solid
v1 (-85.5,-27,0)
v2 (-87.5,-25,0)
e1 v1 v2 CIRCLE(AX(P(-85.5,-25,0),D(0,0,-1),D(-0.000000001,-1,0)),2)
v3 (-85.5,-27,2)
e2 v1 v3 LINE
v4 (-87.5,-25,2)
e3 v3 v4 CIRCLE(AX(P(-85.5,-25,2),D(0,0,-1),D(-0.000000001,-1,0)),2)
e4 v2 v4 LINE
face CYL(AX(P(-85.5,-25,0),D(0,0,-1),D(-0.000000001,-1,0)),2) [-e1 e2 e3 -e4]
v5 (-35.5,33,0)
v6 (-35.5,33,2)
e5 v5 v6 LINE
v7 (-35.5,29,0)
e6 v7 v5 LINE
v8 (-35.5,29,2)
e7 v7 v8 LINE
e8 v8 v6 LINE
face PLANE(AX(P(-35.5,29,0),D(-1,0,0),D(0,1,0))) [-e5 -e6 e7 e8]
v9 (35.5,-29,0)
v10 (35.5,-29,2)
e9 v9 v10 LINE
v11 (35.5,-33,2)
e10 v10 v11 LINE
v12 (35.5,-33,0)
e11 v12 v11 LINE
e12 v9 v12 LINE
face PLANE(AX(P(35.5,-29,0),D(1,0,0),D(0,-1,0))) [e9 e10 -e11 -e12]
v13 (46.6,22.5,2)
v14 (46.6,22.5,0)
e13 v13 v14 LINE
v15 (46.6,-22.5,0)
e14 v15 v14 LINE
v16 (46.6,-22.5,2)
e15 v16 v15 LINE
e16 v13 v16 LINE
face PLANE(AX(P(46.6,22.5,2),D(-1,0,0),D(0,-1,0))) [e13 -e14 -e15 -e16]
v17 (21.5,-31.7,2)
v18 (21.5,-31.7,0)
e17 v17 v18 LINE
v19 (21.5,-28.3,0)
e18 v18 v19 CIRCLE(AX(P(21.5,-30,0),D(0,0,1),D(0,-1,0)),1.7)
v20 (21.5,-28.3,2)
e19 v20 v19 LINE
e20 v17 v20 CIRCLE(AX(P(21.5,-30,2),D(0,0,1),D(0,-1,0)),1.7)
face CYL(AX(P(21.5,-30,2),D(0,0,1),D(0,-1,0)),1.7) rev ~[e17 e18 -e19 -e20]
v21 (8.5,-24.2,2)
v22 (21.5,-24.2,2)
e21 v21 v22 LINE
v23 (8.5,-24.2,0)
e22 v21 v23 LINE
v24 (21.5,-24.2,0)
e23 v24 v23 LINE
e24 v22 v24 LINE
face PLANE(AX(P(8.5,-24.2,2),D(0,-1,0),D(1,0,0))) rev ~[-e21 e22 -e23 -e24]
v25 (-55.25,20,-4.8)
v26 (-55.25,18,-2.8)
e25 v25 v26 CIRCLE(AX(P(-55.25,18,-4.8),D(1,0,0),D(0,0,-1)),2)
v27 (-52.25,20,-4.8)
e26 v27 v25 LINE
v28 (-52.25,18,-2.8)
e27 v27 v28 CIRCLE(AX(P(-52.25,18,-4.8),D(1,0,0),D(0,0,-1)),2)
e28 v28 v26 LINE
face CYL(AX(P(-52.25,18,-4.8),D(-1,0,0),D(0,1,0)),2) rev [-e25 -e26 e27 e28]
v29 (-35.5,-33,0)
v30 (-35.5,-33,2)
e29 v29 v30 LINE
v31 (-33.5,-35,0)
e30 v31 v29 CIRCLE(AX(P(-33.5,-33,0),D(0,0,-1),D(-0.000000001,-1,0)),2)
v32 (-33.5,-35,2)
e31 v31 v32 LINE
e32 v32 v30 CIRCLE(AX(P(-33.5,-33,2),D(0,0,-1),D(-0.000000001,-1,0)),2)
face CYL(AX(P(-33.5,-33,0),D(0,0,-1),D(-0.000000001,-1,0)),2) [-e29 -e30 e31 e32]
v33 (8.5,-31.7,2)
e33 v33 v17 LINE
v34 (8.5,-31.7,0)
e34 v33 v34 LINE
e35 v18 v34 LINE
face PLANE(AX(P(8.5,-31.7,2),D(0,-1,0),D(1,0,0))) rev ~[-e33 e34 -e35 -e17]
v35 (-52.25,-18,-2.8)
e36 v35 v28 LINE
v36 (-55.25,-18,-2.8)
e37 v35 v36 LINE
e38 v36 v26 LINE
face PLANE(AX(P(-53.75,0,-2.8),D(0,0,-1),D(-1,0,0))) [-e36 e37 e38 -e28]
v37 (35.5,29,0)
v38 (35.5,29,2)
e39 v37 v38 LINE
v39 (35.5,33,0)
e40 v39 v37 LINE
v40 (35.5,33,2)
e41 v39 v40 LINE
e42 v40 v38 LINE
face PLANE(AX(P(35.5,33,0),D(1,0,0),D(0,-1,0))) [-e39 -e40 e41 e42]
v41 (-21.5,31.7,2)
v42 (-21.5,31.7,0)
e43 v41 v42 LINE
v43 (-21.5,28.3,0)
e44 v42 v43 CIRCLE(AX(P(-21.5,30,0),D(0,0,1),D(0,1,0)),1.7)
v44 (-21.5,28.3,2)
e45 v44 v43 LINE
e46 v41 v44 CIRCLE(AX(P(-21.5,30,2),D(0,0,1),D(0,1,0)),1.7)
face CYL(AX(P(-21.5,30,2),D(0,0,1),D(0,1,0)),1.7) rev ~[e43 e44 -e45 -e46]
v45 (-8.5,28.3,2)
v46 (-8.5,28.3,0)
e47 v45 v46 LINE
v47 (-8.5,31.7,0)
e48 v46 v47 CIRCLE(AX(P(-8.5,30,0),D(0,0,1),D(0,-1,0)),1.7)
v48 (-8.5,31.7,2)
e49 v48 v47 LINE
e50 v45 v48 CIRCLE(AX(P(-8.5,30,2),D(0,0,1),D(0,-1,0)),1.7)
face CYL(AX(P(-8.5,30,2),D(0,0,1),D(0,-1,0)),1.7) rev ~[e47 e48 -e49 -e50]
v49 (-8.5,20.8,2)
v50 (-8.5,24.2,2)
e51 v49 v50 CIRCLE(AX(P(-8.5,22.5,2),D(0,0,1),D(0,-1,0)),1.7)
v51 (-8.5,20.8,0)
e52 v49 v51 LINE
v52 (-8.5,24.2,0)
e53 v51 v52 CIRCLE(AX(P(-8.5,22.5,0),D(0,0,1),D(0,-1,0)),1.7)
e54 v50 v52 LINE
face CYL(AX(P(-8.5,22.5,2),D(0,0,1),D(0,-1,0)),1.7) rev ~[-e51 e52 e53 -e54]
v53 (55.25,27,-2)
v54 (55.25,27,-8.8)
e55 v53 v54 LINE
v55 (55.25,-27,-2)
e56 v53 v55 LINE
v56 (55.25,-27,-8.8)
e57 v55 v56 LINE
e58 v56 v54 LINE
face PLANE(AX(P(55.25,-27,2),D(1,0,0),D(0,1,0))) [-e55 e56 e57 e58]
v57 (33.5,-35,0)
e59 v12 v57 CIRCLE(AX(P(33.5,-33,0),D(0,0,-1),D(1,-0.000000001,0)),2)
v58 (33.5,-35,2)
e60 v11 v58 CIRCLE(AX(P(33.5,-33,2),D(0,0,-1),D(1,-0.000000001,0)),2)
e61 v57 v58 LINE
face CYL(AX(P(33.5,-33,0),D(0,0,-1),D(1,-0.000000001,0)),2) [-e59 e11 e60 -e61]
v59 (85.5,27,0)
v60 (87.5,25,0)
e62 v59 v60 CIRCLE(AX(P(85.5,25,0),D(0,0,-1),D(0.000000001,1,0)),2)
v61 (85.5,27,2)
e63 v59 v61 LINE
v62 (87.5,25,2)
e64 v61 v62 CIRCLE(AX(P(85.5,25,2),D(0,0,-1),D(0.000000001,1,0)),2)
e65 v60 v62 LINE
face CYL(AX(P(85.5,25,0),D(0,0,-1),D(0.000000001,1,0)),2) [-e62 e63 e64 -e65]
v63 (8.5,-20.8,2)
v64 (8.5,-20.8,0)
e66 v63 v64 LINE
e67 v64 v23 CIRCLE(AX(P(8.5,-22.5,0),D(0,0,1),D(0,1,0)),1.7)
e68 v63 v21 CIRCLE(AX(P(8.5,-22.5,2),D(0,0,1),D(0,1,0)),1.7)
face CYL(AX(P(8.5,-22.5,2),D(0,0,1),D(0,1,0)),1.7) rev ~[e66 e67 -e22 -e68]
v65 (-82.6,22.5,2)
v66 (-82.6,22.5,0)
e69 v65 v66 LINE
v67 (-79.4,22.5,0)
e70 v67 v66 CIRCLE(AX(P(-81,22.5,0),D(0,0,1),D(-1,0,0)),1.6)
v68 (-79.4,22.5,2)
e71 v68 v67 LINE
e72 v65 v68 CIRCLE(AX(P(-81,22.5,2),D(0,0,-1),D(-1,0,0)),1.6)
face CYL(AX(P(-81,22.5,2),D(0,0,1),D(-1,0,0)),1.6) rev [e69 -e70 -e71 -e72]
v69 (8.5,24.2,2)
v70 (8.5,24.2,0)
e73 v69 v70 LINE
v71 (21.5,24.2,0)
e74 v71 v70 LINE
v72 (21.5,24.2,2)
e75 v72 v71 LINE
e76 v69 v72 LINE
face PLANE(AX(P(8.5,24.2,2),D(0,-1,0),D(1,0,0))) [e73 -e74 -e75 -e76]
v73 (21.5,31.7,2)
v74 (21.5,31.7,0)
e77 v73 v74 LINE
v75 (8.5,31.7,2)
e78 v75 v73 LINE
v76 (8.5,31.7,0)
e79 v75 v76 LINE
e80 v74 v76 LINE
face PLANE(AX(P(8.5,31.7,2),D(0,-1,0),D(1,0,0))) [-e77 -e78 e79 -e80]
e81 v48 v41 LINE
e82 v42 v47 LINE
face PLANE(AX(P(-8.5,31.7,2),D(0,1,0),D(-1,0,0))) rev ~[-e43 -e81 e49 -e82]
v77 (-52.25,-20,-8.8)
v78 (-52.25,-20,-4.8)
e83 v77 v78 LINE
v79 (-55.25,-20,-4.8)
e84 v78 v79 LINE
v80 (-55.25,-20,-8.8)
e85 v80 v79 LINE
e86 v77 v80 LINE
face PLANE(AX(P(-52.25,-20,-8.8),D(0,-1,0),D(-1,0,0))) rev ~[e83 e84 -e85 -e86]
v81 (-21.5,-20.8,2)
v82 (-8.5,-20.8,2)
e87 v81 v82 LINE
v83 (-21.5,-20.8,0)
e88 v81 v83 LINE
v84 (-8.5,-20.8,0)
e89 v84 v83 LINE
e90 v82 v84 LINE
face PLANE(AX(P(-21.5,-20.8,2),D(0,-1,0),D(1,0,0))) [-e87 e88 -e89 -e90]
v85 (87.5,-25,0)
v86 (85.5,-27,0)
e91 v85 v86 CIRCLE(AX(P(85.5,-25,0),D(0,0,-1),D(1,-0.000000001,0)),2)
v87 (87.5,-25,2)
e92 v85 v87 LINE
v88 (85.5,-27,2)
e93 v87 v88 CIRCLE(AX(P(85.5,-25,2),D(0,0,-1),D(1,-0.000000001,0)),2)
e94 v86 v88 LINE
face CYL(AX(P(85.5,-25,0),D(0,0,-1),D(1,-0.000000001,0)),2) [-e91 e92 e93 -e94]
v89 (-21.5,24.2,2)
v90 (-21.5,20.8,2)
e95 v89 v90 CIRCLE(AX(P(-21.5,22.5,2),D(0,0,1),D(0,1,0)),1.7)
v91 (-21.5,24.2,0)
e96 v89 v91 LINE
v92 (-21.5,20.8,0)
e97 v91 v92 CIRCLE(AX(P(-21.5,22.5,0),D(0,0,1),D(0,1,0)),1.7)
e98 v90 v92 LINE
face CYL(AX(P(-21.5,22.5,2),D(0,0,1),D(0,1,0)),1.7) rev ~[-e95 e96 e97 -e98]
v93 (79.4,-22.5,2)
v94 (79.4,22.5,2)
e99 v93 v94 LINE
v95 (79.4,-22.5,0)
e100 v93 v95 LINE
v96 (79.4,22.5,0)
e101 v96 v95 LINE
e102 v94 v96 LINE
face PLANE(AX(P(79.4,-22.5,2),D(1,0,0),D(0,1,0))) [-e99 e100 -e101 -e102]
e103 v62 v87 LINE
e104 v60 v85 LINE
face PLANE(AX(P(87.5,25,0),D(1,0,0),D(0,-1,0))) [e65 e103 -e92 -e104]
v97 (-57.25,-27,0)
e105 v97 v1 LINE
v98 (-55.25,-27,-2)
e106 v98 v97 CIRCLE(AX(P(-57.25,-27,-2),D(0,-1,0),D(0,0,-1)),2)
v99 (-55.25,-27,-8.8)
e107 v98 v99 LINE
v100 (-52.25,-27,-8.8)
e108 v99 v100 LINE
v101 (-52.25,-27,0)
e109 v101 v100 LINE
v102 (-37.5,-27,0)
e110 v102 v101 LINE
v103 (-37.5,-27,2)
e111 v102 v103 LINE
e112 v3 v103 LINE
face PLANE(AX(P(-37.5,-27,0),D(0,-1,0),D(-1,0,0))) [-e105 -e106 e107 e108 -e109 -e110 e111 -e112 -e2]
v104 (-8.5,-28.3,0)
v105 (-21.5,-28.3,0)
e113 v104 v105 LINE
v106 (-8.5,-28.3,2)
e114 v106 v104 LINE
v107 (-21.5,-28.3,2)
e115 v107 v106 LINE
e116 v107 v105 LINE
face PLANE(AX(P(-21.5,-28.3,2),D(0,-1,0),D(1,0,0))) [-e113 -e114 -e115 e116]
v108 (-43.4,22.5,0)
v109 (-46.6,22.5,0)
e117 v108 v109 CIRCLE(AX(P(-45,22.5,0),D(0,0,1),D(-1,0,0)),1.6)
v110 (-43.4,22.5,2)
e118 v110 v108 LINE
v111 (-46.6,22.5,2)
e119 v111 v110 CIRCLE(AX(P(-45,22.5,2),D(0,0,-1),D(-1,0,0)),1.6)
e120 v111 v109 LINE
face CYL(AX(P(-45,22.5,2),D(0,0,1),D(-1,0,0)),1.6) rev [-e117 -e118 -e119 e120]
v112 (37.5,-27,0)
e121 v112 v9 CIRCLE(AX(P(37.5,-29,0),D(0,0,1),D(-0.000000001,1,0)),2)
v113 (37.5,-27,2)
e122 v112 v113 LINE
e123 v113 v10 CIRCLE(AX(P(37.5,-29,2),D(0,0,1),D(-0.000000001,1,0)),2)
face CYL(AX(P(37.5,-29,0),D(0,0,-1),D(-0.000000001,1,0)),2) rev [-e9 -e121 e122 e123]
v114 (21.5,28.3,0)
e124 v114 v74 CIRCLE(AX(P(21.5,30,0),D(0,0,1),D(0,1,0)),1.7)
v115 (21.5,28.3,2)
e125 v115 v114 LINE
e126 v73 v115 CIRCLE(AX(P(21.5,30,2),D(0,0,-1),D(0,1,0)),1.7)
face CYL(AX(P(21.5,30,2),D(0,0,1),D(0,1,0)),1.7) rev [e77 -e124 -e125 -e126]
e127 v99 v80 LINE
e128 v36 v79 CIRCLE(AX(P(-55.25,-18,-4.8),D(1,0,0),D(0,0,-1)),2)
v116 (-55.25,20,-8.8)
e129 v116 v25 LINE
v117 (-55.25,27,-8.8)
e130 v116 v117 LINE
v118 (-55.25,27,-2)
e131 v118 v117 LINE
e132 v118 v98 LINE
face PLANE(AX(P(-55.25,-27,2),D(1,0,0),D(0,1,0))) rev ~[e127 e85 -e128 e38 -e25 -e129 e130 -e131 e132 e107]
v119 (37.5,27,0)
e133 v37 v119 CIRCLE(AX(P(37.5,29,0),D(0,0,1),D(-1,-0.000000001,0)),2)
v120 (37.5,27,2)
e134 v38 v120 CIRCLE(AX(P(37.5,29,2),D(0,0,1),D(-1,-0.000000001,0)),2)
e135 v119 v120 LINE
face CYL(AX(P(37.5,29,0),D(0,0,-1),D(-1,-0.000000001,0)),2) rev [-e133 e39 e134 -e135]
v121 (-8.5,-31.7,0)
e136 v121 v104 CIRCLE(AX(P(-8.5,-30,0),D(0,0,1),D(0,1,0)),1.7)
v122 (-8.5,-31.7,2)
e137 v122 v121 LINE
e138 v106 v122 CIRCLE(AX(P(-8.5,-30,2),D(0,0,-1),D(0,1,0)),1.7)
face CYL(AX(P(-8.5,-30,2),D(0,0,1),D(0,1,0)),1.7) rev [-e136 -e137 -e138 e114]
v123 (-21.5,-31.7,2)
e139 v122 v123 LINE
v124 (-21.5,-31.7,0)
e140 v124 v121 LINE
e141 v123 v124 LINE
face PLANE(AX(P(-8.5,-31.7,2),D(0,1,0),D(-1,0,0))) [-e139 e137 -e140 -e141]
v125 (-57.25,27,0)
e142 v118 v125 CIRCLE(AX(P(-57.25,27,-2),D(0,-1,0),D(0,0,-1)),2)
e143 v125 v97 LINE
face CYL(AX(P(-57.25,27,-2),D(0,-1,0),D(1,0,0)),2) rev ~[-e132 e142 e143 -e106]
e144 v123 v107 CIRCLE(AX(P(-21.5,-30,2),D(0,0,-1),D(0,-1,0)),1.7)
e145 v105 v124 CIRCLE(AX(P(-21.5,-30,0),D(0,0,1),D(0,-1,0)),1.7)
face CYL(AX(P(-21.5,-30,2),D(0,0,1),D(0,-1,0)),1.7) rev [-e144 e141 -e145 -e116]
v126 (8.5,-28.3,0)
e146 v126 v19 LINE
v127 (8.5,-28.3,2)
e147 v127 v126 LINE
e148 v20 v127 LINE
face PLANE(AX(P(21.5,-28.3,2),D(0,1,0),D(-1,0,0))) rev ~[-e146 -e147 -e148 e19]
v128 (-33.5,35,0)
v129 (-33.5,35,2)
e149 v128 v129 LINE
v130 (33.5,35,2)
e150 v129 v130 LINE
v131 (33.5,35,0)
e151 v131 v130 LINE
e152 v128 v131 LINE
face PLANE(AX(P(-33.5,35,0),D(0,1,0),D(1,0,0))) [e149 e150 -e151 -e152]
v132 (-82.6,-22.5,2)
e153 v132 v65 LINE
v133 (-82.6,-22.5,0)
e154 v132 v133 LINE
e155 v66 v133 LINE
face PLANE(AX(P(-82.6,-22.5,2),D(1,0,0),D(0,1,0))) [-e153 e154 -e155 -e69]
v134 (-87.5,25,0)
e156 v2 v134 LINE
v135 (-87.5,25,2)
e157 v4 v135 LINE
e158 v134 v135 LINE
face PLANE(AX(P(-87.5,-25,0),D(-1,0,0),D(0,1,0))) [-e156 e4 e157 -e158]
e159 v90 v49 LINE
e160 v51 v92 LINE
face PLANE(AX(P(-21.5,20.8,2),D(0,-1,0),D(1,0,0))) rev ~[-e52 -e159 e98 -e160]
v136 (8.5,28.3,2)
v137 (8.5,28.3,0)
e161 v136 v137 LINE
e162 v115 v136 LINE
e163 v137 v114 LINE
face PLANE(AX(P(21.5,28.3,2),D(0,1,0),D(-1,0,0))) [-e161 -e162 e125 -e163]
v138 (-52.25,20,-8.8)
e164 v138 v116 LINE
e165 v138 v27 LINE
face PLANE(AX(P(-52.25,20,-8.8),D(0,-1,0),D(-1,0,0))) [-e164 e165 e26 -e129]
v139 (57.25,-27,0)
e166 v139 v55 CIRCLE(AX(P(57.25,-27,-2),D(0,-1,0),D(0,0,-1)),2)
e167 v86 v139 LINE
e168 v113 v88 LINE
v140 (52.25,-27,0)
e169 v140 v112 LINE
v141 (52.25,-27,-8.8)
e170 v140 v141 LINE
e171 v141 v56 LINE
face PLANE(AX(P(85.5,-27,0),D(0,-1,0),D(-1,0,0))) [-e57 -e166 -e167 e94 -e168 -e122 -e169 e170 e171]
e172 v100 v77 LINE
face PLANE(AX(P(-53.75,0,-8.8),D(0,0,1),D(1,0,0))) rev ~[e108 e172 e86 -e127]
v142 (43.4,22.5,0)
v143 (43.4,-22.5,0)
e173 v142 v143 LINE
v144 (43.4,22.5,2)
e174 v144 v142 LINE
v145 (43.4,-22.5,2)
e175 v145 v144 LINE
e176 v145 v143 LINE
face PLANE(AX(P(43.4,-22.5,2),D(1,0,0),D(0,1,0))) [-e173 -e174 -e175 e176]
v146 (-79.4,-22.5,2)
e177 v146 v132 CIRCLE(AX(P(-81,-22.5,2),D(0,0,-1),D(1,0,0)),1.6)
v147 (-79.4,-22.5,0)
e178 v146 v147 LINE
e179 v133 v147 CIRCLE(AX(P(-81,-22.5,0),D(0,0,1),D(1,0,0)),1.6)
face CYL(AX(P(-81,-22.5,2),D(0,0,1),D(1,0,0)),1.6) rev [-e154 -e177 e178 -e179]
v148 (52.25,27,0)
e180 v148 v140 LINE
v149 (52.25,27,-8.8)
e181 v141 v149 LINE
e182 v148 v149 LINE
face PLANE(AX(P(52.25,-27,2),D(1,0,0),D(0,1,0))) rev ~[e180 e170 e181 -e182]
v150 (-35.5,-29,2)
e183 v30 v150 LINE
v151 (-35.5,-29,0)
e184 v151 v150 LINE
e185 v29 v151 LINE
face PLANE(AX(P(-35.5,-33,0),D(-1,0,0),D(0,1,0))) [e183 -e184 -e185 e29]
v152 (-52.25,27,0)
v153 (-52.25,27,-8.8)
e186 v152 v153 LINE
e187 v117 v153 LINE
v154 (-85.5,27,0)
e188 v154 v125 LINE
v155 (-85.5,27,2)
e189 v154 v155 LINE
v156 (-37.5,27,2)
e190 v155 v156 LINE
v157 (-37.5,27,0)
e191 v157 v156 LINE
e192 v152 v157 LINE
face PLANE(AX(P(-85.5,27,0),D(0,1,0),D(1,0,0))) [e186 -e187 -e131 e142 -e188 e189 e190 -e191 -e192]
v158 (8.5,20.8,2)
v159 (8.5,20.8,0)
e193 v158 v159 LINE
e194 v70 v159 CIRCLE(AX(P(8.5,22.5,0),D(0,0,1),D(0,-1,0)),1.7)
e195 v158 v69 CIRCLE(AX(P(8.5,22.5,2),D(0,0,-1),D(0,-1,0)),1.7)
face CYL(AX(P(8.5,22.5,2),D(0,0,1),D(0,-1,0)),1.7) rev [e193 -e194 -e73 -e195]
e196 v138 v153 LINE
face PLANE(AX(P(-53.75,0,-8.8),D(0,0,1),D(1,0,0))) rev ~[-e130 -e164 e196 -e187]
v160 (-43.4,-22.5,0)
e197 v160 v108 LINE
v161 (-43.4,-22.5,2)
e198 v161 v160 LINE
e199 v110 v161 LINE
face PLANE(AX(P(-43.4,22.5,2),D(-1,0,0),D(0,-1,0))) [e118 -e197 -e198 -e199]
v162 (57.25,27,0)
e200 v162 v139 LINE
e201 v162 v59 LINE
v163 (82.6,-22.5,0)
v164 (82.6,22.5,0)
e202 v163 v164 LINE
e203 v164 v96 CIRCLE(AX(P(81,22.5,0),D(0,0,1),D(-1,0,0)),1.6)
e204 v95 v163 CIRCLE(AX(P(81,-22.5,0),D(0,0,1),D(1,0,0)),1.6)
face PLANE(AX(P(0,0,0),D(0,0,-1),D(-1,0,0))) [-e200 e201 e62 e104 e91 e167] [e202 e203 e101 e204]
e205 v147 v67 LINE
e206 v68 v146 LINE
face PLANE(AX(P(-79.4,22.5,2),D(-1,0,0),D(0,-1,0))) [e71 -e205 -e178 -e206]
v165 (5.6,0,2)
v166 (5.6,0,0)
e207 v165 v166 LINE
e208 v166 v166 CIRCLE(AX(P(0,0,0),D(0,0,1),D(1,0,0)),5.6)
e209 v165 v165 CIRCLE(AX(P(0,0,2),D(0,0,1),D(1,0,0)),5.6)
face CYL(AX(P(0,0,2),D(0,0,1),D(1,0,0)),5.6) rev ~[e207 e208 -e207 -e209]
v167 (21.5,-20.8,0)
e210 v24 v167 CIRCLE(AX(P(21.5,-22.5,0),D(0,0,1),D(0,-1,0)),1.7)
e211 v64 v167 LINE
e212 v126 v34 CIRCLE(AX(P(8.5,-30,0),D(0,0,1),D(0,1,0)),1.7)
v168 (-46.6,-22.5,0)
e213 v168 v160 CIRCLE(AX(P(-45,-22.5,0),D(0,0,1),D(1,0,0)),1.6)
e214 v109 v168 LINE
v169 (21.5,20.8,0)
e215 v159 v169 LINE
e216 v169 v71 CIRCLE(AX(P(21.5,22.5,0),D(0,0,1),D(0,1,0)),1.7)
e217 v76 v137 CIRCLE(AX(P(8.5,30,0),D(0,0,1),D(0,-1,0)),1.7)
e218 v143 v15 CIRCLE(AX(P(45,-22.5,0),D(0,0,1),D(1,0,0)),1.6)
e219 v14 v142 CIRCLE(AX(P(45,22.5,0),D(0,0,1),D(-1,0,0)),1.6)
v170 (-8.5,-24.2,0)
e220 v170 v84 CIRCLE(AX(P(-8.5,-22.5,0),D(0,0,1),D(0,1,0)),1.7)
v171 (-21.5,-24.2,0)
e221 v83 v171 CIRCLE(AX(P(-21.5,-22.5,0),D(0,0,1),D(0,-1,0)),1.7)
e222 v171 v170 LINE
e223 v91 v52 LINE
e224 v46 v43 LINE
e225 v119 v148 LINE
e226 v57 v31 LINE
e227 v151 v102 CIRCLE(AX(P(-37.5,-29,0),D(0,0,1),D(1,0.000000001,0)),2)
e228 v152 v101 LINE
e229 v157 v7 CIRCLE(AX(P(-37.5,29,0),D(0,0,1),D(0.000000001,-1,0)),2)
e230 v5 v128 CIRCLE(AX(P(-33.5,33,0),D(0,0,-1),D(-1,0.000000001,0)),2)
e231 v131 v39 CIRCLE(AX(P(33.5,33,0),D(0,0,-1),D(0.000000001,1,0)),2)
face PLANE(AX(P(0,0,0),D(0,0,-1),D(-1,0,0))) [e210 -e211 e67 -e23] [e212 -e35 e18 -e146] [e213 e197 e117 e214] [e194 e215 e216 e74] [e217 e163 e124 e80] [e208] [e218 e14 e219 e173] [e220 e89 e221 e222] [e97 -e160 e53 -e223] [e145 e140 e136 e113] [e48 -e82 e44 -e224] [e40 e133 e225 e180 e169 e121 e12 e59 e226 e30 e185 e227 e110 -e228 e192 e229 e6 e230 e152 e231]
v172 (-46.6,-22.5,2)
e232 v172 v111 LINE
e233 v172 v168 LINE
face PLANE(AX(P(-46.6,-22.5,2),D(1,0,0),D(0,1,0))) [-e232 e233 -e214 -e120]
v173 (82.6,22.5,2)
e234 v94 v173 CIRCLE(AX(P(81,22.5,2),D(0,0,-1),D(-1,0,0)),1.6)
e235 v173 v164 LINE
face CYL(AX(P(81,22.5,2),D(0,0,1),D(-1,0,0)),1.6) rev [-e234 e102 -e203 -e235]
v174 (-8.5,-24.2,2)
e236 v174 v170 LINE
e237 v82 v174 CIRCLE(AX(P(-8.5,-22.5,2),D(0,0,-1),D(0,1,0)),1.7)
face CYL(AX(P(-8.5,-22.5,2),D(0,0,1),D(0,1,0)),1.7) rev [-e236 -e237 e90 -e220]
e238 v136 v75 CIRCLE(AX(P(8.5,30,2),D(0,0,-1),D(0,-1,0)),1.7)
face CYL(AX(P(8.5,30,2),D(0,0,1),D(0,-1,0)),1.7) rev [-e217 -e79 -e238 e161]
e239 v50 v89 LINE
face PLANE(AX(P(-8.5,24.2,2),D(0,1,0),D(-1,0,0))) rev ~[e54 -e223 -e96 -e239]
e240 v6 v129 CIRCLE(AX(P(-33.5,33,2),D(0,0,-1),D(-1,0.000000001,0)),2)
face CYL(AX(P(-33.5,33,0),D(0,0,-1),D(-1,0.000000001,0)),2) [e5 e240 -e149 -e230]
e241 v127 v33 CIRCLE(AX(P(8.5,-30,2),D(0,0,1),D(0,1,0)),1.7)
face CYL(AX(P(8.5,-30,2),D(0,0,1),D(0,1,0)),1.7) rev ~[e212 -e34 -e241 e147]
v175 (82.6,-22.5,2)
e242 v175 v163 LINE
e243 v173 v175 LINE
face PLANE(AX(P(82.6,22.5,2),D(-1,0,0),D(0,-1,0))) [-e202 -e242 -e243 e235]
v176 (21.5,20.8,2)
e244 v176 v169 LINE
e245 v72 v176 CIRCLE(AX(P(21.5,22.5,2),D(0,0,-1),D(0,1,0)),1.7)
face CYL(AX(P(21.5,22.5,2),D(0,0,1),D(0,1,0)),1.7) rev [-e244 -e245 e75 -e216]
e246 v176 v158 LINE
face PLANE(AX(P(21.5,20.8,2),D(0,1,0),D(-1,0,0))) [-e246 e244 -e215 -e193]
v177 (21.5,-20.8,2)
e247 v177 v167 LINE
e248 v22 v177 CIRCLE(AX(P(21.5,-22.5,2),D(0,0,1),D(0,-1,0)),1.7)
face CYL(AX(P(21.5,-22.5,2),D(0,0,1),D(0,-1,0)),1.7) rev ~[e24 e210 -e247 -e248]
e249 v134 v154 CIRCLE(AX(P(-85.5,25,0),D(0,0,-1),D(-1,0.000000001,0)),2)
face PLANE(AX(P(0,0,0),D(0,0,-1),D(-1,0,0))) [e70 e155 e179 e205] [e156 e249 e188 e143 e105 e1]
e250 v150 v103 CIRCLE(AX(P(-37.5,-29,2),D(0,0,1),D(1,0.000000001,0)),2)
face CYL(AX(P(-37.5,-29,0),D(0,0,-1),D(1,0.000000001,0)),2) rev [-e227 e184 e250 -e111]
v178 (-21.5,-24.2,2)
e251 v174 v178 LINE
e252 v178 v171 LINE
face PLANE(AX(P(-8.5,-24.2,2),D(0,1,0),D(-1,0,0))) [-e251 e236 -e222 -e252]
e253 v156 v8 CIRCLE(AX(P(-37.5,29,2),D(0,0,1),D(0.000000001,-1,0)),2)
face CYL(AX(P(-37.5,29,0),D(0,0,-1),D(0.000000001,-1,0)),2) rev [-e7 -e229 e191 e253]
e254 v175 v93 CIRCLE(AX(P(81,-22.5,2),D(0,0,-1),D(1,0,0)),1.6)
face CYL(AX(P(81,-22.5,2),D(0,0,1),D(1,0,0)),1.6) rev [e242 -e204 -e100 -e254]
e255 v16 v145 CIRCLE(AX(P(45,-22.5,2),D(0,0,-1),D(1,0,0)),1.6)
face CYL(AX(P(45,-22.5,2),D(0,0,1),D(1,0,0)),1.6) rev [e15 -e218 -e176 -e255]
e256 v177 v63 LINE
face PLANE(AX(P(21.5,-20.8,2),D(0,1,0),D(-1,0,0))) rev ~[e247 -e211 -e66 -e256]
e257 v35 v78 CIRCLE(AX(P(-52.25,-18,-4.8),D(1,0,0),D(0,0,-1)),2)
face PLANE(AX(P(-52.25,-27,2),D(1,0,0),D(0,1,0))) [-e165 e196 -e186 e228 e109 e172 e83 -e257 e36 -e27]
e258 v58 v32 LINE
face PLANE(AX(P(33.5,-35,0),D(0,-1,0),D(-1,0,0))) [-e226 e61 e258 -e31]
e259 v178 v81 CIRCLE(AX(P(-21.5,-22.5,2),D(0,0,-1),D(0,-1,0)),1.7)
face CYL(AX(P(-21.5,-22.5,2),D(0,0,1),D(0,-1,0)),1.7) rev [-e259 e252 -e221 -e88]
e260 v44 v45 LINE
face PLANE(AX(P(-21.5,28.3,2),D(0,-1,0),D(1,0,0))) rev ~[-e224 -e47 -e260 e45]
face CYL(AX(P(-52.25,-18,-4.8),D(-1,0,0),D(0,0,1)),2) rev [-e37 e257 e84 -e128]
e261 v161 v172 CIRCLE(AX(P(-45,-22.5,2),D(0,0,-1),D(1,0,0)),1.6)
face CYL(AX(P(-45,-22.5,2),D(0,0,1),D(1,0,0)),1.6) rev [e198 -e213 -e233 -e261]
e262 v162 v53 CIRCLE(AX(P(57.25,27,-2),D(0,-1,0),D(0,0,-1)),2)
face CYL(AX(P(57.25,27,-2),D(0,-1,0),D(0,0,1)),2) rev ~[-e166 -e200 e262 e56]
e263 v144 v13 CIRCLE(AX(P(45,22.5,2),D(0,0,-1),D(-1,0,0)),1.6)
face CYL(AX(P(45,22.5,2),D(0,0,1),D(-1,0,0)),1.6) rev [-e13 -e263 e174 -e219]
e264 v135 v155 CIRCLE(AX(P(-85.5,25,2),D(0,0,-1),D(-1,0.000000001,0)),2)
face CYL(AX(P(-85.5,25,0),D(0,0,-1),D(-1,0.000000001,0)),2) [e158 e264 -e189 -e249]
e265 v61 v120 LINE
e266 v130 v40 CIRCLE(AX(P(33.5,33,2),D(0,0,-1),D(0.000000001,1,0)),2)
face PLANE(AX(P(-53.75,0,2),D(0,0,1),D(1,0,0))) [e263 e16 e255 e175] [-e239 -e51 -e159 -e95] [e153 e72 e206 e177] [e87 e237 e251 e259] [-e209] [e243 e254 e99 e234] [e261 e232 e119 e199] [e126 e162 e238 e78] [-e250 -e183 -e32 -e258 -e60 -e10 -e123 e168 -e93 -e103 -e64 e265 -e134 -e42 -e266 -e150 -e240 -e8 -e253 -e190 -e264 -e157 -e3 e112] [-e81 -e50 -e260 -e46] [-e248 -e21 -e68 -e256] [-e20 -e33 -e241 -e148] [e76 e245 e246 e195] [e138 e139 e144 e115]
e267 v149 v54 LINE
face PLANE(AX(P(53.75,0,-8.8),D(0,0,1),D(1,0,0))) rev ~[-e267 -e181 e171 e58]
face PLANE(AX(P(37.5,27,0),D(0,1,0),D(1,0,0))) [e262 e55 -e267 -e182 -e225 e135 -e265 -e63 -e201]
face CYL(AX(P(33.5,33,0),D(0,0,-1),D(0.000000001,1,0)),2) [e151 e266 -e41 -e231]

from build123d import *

# Parameters (mm, degrees)
EXTRUDE_1_DEPTH     = 2
SKETCH_2_R          = 5.6
CUT_EXTRUDE_1_DEPTH = 95.26160406
SKETCH_5_W          = 3
SKETCH_5_H          = 54
EXTRUDE_2_DEPTH     = 10.8
FILLET_1_R          = 2
SKETCH_6_W          = 3
SKETCH_6_H          = 40
CUT_EXTRUDE_3_DEPTH = 6
FILLET_2_R          = 2
FILLET_3_R          = 2


with BuildPart() as part:
    # 草圖1 → 填料-伸長1 (new body)
    with BuildSketch(Plane.XY):
        with BuildLine():
            Line((35.5, 33), (35.5, 29))
            ThreePointArc((35.5, 29), (36.085786438, 27.585786438), (37.5, 27))
            Line((37.5, 27), (85.5, 27))
            ThreePointArc((85.5, 27), (86.914213562, 26.414213562), (87.5, 25))
            Line((87.5, 25), (87.5, -25))
            ThreePointArc((87.5, -25), (86.914213562, -26.414213562), (85.5, -27))
            Line((85.5, -27), (37.5, -27))
            ThreePointArc((37.5, -27), (36.085786438, -27.585786438), (35.5, -29))
            Line((35.5, -29), (35.5, -33))
            ThreePointArc((35.5, -33), (34.914213562, -34.414213562), (33.5, -35))
            Line((33.5, -35), (-33.5, -35))
            ThreePointArc((-33.5, -35), (-34.914213562, -34.414213562), (-35.5, -33))
            Line((-35.5, -33), (-35.5, -29))
            ThreePointArc((-35.5, -29), (-36.085786438, -27.585786438), (-37.5, -27))
            Line((-37.5, -27), (-85.5, -27))
            ThreePointArc((-85.5, -27), (-86.914213562, -26.414213562), (-87.5, -25))
            Line((-87.5, -25), (-87.5, 25))
            ThreePointArc((-87.5, 25), (-86.914213562, 26.414213562), (-85.5, 27))
            Line((-85.5, 27), (-37.5, 27))
            ThreePointArc((-37.5, 27), (-36.085786438, 27.585786438), (-35.5, 29))
            Line((-35.5, 29), (-35.5, 33))
            ThreePointArc((-35.5, 33), (-34.914213562, 34.414213562), (-33.5, 35))
            Line((-33.5, 35), (33.5, 35))
            ThreePointArc((33.5, 35), (34.914213562, 34.414213562), (35.5, 33))
        make_face()
    extrude(amount=EXTRUDE_1_DEPTH)

    # 草圖2 → 除料-伸長1 (cut, through all)
    with BuildSketch(Plane.XY.offset(2)):
        Circle(SKETCH_2_R)
        with BuildLine():
            Line((43.4, -22.5), (43.4, 22.5))
            ThreePointArc((43.4, 22.5), (45, 24.1), (46.6, 22.5))
            Line((46.6, 22.5), (46.6, -22.5))
            ThreePointArc((46.6, -22.5), (45, -24.1), (43.4, -22.5))
        make_face()
        with BuildLine():
            Line((-46.6, -22.5), (-46.6, 22.5))
            ThreePointArc((-46.6, 22.5), (-45, 24.1), (-43.4, 22.5))
            Line((-43.4, 22.5), (-43.4, -22.5))
            ThreePointArc((-43.4, -22.5), (-45, -24.1), (-46.6, -22.5))
        make_face()
        with BuildLine():
            Line((21.5, 28.3), (8.5, 28.3))
            ThreePointArc((8.5, 28.3), (6.8, 30), (8.5, 31.7))
            Line((8.5, 31.7), (21.5, 31.7))
            ThreePointArc((21.5, 31.7), (23.2, 30), (21.5, 28.3))
        make_face()
        with BuildLine():
            Line((-82.6, -22.5), (-82.6, 22.5))
            ThreePointArc((-82.6, 22.5), (-81, 24.1), (-79.4, 22.5))
            Line((-79.4, 22.5), (-79.4, -22.5))
            ThreePointArc((-79.4, -22.5), (-81, -24.1), (-82.6, -22.5))
        make_face()
        with BuildLine():
            Line((79.4, -22.5), (79.4, 22.5))
            ThreePointArc((79.4, 22.5), (81, 24.1), (82.6, 22.5))
            Line((82.6, 22.5), (82.6, -22.5))
            ThreePointArc((82.6, -22.5), (81, -24.1), (79.4, -22.5))
        make_face()
        with BuildLine():
            Line((21.5, 20.8), (8.5, 20.8))
            ThreePointArc((8.5, 20.8), (6.8, 22.5), (8.5, 24.2))
            Line((8.5, 24.2), (21.5, 24.2))
            ThreePointArc((21.5, 24.2), (23.2, 22.5), (21.5, 20.8))
        make_face()
        with BuildLine():
            Line((-21.5, 28.3), (-8.5, 28.3))
            ThreePointArc((-8.5, 28.3), (-6.8, 30), (-8.5, 31.7))
            Line((-8.5, 31.7), (-21.5, 31.7))
            ThreePointArc((-21.5, 31.7), (-23.2, 30), (-21.5, 28.3))
        make_face()
        with BuildLine():
            Line((-21.5, 20.8), (-8.5, 20.8))
            ThreePointArc((-8.5, 20.8), (-6.8, 22.5), (-8.5, 24.2))
            Line((-8.5, 24.2), (-21.5, 24.2))
            ThreePointArc((-21.5, 24.2), (-23.2, 22.5), (-21.5, 20.8))
        make_face()
        with BuildLine():
            Line((21.5, -28.3), (8.5, -28.3))
            ThreePointArc((8.5, -28.3), (6.8, -30), (8.5, -31.7))
            Line((8.5, -31.7), (21.5, -31.7))
            ThreePointArc((21.5, -31.7), (23.2, -30), (21.5, -28.3))
        make_face()
        with BuildLine():
            Line((21.5, -20.8), (8.5, -20.8))
            ThreePointArc((8.5, -20.8), (6.8, -22.5), (8.5, -24.2))
            Line((8.5, -24.2), (21.5, -24.2))
            ThreePointArc((21.5, -24.2), (23.2, -22.5), (21.5, -20.8))
        make_face()
        with BuildLine():
            Line((-21.5, -28.3), (-8.5, -28.3))
            ThreePointArc((-8.5, -28.3), (-6.8, -30), (-8.5, -31.7))
            Line((-8.5, -31.7), (-21.5, -31.7))
            ThreePointArc((-21.5, -31.7), (-23.2, -30), (-21.5, -28.3))
        make_face()
        with BuildLine():
            Line((-21.5, -20.8), (-8.5, -20.8))
            ThreePointArc((-8.5, -20.8), (-6.8, -22.5), (-8.5, -24.2))
            Line((-8.5, -24.2), (-21.5, -24.2))
            ThreePointArc((-21.5, -24.2), (-23.2, -22.5), (-21.5, -20.8))
        make_face()
    extrude(amount=-CUT_EXTRUDE_1_DEPTH, mode=Mode.SUBTRACT)

    # 草圖5 → 填料-伸長2 (add)
    with BuildSketch(Plane.XY.offset(2)):
        with Locations((-53.75, 0)):
            Rectangle(SKETCH_5_W, SKETCH_5_H)
        with Locations((53.75, 0)):
            Rectangle(SKETCH_5_W, SKETCH_5_H)
    extrude(amount=-EXTRUDE_2_DEPTH)

    # 圓角1
    fillet_1_edges = [part.edges().sort_by_distance(p)[0] for p in [
        (55.25, 0, 0),
    ]]
    fillet(fillet_1_edges, radius=FILLET_1_R)

    # 草圖6 → 除料-伸長3 (cut)
    with BuildSketch(Plane(origin=(0, 0, -8.8), x_dir=(-1, 0, 0), z_dir=(0, 0, -1))):
        with Locations((53.75, 0)):
            Rectangle(SKETCH_6_W, SKETCH_6_H)
    extrude(amount=-CUT_EXTRUDE_3_DEPTH, mode=Mode.SUBTRACT)

    # 圓角2
    fillet_2_edges = [part.edges().sort_by_distance(p)[0] for p in [
        (-53.75, -20, -2.8),
        (-53.75, 20, -2.8),
    ]]
    fillet(fillet_2_edges, radius=FILLET_2_R)

    # 圓角3
    fillet_3_edges = [part.edges().sort_by_distance(p)[0] for p in [
        (-55.25, 0, 0),
    ]]
    fillet(fillet_3_edges, radius=FILLET_3_R)


solid = part.part
